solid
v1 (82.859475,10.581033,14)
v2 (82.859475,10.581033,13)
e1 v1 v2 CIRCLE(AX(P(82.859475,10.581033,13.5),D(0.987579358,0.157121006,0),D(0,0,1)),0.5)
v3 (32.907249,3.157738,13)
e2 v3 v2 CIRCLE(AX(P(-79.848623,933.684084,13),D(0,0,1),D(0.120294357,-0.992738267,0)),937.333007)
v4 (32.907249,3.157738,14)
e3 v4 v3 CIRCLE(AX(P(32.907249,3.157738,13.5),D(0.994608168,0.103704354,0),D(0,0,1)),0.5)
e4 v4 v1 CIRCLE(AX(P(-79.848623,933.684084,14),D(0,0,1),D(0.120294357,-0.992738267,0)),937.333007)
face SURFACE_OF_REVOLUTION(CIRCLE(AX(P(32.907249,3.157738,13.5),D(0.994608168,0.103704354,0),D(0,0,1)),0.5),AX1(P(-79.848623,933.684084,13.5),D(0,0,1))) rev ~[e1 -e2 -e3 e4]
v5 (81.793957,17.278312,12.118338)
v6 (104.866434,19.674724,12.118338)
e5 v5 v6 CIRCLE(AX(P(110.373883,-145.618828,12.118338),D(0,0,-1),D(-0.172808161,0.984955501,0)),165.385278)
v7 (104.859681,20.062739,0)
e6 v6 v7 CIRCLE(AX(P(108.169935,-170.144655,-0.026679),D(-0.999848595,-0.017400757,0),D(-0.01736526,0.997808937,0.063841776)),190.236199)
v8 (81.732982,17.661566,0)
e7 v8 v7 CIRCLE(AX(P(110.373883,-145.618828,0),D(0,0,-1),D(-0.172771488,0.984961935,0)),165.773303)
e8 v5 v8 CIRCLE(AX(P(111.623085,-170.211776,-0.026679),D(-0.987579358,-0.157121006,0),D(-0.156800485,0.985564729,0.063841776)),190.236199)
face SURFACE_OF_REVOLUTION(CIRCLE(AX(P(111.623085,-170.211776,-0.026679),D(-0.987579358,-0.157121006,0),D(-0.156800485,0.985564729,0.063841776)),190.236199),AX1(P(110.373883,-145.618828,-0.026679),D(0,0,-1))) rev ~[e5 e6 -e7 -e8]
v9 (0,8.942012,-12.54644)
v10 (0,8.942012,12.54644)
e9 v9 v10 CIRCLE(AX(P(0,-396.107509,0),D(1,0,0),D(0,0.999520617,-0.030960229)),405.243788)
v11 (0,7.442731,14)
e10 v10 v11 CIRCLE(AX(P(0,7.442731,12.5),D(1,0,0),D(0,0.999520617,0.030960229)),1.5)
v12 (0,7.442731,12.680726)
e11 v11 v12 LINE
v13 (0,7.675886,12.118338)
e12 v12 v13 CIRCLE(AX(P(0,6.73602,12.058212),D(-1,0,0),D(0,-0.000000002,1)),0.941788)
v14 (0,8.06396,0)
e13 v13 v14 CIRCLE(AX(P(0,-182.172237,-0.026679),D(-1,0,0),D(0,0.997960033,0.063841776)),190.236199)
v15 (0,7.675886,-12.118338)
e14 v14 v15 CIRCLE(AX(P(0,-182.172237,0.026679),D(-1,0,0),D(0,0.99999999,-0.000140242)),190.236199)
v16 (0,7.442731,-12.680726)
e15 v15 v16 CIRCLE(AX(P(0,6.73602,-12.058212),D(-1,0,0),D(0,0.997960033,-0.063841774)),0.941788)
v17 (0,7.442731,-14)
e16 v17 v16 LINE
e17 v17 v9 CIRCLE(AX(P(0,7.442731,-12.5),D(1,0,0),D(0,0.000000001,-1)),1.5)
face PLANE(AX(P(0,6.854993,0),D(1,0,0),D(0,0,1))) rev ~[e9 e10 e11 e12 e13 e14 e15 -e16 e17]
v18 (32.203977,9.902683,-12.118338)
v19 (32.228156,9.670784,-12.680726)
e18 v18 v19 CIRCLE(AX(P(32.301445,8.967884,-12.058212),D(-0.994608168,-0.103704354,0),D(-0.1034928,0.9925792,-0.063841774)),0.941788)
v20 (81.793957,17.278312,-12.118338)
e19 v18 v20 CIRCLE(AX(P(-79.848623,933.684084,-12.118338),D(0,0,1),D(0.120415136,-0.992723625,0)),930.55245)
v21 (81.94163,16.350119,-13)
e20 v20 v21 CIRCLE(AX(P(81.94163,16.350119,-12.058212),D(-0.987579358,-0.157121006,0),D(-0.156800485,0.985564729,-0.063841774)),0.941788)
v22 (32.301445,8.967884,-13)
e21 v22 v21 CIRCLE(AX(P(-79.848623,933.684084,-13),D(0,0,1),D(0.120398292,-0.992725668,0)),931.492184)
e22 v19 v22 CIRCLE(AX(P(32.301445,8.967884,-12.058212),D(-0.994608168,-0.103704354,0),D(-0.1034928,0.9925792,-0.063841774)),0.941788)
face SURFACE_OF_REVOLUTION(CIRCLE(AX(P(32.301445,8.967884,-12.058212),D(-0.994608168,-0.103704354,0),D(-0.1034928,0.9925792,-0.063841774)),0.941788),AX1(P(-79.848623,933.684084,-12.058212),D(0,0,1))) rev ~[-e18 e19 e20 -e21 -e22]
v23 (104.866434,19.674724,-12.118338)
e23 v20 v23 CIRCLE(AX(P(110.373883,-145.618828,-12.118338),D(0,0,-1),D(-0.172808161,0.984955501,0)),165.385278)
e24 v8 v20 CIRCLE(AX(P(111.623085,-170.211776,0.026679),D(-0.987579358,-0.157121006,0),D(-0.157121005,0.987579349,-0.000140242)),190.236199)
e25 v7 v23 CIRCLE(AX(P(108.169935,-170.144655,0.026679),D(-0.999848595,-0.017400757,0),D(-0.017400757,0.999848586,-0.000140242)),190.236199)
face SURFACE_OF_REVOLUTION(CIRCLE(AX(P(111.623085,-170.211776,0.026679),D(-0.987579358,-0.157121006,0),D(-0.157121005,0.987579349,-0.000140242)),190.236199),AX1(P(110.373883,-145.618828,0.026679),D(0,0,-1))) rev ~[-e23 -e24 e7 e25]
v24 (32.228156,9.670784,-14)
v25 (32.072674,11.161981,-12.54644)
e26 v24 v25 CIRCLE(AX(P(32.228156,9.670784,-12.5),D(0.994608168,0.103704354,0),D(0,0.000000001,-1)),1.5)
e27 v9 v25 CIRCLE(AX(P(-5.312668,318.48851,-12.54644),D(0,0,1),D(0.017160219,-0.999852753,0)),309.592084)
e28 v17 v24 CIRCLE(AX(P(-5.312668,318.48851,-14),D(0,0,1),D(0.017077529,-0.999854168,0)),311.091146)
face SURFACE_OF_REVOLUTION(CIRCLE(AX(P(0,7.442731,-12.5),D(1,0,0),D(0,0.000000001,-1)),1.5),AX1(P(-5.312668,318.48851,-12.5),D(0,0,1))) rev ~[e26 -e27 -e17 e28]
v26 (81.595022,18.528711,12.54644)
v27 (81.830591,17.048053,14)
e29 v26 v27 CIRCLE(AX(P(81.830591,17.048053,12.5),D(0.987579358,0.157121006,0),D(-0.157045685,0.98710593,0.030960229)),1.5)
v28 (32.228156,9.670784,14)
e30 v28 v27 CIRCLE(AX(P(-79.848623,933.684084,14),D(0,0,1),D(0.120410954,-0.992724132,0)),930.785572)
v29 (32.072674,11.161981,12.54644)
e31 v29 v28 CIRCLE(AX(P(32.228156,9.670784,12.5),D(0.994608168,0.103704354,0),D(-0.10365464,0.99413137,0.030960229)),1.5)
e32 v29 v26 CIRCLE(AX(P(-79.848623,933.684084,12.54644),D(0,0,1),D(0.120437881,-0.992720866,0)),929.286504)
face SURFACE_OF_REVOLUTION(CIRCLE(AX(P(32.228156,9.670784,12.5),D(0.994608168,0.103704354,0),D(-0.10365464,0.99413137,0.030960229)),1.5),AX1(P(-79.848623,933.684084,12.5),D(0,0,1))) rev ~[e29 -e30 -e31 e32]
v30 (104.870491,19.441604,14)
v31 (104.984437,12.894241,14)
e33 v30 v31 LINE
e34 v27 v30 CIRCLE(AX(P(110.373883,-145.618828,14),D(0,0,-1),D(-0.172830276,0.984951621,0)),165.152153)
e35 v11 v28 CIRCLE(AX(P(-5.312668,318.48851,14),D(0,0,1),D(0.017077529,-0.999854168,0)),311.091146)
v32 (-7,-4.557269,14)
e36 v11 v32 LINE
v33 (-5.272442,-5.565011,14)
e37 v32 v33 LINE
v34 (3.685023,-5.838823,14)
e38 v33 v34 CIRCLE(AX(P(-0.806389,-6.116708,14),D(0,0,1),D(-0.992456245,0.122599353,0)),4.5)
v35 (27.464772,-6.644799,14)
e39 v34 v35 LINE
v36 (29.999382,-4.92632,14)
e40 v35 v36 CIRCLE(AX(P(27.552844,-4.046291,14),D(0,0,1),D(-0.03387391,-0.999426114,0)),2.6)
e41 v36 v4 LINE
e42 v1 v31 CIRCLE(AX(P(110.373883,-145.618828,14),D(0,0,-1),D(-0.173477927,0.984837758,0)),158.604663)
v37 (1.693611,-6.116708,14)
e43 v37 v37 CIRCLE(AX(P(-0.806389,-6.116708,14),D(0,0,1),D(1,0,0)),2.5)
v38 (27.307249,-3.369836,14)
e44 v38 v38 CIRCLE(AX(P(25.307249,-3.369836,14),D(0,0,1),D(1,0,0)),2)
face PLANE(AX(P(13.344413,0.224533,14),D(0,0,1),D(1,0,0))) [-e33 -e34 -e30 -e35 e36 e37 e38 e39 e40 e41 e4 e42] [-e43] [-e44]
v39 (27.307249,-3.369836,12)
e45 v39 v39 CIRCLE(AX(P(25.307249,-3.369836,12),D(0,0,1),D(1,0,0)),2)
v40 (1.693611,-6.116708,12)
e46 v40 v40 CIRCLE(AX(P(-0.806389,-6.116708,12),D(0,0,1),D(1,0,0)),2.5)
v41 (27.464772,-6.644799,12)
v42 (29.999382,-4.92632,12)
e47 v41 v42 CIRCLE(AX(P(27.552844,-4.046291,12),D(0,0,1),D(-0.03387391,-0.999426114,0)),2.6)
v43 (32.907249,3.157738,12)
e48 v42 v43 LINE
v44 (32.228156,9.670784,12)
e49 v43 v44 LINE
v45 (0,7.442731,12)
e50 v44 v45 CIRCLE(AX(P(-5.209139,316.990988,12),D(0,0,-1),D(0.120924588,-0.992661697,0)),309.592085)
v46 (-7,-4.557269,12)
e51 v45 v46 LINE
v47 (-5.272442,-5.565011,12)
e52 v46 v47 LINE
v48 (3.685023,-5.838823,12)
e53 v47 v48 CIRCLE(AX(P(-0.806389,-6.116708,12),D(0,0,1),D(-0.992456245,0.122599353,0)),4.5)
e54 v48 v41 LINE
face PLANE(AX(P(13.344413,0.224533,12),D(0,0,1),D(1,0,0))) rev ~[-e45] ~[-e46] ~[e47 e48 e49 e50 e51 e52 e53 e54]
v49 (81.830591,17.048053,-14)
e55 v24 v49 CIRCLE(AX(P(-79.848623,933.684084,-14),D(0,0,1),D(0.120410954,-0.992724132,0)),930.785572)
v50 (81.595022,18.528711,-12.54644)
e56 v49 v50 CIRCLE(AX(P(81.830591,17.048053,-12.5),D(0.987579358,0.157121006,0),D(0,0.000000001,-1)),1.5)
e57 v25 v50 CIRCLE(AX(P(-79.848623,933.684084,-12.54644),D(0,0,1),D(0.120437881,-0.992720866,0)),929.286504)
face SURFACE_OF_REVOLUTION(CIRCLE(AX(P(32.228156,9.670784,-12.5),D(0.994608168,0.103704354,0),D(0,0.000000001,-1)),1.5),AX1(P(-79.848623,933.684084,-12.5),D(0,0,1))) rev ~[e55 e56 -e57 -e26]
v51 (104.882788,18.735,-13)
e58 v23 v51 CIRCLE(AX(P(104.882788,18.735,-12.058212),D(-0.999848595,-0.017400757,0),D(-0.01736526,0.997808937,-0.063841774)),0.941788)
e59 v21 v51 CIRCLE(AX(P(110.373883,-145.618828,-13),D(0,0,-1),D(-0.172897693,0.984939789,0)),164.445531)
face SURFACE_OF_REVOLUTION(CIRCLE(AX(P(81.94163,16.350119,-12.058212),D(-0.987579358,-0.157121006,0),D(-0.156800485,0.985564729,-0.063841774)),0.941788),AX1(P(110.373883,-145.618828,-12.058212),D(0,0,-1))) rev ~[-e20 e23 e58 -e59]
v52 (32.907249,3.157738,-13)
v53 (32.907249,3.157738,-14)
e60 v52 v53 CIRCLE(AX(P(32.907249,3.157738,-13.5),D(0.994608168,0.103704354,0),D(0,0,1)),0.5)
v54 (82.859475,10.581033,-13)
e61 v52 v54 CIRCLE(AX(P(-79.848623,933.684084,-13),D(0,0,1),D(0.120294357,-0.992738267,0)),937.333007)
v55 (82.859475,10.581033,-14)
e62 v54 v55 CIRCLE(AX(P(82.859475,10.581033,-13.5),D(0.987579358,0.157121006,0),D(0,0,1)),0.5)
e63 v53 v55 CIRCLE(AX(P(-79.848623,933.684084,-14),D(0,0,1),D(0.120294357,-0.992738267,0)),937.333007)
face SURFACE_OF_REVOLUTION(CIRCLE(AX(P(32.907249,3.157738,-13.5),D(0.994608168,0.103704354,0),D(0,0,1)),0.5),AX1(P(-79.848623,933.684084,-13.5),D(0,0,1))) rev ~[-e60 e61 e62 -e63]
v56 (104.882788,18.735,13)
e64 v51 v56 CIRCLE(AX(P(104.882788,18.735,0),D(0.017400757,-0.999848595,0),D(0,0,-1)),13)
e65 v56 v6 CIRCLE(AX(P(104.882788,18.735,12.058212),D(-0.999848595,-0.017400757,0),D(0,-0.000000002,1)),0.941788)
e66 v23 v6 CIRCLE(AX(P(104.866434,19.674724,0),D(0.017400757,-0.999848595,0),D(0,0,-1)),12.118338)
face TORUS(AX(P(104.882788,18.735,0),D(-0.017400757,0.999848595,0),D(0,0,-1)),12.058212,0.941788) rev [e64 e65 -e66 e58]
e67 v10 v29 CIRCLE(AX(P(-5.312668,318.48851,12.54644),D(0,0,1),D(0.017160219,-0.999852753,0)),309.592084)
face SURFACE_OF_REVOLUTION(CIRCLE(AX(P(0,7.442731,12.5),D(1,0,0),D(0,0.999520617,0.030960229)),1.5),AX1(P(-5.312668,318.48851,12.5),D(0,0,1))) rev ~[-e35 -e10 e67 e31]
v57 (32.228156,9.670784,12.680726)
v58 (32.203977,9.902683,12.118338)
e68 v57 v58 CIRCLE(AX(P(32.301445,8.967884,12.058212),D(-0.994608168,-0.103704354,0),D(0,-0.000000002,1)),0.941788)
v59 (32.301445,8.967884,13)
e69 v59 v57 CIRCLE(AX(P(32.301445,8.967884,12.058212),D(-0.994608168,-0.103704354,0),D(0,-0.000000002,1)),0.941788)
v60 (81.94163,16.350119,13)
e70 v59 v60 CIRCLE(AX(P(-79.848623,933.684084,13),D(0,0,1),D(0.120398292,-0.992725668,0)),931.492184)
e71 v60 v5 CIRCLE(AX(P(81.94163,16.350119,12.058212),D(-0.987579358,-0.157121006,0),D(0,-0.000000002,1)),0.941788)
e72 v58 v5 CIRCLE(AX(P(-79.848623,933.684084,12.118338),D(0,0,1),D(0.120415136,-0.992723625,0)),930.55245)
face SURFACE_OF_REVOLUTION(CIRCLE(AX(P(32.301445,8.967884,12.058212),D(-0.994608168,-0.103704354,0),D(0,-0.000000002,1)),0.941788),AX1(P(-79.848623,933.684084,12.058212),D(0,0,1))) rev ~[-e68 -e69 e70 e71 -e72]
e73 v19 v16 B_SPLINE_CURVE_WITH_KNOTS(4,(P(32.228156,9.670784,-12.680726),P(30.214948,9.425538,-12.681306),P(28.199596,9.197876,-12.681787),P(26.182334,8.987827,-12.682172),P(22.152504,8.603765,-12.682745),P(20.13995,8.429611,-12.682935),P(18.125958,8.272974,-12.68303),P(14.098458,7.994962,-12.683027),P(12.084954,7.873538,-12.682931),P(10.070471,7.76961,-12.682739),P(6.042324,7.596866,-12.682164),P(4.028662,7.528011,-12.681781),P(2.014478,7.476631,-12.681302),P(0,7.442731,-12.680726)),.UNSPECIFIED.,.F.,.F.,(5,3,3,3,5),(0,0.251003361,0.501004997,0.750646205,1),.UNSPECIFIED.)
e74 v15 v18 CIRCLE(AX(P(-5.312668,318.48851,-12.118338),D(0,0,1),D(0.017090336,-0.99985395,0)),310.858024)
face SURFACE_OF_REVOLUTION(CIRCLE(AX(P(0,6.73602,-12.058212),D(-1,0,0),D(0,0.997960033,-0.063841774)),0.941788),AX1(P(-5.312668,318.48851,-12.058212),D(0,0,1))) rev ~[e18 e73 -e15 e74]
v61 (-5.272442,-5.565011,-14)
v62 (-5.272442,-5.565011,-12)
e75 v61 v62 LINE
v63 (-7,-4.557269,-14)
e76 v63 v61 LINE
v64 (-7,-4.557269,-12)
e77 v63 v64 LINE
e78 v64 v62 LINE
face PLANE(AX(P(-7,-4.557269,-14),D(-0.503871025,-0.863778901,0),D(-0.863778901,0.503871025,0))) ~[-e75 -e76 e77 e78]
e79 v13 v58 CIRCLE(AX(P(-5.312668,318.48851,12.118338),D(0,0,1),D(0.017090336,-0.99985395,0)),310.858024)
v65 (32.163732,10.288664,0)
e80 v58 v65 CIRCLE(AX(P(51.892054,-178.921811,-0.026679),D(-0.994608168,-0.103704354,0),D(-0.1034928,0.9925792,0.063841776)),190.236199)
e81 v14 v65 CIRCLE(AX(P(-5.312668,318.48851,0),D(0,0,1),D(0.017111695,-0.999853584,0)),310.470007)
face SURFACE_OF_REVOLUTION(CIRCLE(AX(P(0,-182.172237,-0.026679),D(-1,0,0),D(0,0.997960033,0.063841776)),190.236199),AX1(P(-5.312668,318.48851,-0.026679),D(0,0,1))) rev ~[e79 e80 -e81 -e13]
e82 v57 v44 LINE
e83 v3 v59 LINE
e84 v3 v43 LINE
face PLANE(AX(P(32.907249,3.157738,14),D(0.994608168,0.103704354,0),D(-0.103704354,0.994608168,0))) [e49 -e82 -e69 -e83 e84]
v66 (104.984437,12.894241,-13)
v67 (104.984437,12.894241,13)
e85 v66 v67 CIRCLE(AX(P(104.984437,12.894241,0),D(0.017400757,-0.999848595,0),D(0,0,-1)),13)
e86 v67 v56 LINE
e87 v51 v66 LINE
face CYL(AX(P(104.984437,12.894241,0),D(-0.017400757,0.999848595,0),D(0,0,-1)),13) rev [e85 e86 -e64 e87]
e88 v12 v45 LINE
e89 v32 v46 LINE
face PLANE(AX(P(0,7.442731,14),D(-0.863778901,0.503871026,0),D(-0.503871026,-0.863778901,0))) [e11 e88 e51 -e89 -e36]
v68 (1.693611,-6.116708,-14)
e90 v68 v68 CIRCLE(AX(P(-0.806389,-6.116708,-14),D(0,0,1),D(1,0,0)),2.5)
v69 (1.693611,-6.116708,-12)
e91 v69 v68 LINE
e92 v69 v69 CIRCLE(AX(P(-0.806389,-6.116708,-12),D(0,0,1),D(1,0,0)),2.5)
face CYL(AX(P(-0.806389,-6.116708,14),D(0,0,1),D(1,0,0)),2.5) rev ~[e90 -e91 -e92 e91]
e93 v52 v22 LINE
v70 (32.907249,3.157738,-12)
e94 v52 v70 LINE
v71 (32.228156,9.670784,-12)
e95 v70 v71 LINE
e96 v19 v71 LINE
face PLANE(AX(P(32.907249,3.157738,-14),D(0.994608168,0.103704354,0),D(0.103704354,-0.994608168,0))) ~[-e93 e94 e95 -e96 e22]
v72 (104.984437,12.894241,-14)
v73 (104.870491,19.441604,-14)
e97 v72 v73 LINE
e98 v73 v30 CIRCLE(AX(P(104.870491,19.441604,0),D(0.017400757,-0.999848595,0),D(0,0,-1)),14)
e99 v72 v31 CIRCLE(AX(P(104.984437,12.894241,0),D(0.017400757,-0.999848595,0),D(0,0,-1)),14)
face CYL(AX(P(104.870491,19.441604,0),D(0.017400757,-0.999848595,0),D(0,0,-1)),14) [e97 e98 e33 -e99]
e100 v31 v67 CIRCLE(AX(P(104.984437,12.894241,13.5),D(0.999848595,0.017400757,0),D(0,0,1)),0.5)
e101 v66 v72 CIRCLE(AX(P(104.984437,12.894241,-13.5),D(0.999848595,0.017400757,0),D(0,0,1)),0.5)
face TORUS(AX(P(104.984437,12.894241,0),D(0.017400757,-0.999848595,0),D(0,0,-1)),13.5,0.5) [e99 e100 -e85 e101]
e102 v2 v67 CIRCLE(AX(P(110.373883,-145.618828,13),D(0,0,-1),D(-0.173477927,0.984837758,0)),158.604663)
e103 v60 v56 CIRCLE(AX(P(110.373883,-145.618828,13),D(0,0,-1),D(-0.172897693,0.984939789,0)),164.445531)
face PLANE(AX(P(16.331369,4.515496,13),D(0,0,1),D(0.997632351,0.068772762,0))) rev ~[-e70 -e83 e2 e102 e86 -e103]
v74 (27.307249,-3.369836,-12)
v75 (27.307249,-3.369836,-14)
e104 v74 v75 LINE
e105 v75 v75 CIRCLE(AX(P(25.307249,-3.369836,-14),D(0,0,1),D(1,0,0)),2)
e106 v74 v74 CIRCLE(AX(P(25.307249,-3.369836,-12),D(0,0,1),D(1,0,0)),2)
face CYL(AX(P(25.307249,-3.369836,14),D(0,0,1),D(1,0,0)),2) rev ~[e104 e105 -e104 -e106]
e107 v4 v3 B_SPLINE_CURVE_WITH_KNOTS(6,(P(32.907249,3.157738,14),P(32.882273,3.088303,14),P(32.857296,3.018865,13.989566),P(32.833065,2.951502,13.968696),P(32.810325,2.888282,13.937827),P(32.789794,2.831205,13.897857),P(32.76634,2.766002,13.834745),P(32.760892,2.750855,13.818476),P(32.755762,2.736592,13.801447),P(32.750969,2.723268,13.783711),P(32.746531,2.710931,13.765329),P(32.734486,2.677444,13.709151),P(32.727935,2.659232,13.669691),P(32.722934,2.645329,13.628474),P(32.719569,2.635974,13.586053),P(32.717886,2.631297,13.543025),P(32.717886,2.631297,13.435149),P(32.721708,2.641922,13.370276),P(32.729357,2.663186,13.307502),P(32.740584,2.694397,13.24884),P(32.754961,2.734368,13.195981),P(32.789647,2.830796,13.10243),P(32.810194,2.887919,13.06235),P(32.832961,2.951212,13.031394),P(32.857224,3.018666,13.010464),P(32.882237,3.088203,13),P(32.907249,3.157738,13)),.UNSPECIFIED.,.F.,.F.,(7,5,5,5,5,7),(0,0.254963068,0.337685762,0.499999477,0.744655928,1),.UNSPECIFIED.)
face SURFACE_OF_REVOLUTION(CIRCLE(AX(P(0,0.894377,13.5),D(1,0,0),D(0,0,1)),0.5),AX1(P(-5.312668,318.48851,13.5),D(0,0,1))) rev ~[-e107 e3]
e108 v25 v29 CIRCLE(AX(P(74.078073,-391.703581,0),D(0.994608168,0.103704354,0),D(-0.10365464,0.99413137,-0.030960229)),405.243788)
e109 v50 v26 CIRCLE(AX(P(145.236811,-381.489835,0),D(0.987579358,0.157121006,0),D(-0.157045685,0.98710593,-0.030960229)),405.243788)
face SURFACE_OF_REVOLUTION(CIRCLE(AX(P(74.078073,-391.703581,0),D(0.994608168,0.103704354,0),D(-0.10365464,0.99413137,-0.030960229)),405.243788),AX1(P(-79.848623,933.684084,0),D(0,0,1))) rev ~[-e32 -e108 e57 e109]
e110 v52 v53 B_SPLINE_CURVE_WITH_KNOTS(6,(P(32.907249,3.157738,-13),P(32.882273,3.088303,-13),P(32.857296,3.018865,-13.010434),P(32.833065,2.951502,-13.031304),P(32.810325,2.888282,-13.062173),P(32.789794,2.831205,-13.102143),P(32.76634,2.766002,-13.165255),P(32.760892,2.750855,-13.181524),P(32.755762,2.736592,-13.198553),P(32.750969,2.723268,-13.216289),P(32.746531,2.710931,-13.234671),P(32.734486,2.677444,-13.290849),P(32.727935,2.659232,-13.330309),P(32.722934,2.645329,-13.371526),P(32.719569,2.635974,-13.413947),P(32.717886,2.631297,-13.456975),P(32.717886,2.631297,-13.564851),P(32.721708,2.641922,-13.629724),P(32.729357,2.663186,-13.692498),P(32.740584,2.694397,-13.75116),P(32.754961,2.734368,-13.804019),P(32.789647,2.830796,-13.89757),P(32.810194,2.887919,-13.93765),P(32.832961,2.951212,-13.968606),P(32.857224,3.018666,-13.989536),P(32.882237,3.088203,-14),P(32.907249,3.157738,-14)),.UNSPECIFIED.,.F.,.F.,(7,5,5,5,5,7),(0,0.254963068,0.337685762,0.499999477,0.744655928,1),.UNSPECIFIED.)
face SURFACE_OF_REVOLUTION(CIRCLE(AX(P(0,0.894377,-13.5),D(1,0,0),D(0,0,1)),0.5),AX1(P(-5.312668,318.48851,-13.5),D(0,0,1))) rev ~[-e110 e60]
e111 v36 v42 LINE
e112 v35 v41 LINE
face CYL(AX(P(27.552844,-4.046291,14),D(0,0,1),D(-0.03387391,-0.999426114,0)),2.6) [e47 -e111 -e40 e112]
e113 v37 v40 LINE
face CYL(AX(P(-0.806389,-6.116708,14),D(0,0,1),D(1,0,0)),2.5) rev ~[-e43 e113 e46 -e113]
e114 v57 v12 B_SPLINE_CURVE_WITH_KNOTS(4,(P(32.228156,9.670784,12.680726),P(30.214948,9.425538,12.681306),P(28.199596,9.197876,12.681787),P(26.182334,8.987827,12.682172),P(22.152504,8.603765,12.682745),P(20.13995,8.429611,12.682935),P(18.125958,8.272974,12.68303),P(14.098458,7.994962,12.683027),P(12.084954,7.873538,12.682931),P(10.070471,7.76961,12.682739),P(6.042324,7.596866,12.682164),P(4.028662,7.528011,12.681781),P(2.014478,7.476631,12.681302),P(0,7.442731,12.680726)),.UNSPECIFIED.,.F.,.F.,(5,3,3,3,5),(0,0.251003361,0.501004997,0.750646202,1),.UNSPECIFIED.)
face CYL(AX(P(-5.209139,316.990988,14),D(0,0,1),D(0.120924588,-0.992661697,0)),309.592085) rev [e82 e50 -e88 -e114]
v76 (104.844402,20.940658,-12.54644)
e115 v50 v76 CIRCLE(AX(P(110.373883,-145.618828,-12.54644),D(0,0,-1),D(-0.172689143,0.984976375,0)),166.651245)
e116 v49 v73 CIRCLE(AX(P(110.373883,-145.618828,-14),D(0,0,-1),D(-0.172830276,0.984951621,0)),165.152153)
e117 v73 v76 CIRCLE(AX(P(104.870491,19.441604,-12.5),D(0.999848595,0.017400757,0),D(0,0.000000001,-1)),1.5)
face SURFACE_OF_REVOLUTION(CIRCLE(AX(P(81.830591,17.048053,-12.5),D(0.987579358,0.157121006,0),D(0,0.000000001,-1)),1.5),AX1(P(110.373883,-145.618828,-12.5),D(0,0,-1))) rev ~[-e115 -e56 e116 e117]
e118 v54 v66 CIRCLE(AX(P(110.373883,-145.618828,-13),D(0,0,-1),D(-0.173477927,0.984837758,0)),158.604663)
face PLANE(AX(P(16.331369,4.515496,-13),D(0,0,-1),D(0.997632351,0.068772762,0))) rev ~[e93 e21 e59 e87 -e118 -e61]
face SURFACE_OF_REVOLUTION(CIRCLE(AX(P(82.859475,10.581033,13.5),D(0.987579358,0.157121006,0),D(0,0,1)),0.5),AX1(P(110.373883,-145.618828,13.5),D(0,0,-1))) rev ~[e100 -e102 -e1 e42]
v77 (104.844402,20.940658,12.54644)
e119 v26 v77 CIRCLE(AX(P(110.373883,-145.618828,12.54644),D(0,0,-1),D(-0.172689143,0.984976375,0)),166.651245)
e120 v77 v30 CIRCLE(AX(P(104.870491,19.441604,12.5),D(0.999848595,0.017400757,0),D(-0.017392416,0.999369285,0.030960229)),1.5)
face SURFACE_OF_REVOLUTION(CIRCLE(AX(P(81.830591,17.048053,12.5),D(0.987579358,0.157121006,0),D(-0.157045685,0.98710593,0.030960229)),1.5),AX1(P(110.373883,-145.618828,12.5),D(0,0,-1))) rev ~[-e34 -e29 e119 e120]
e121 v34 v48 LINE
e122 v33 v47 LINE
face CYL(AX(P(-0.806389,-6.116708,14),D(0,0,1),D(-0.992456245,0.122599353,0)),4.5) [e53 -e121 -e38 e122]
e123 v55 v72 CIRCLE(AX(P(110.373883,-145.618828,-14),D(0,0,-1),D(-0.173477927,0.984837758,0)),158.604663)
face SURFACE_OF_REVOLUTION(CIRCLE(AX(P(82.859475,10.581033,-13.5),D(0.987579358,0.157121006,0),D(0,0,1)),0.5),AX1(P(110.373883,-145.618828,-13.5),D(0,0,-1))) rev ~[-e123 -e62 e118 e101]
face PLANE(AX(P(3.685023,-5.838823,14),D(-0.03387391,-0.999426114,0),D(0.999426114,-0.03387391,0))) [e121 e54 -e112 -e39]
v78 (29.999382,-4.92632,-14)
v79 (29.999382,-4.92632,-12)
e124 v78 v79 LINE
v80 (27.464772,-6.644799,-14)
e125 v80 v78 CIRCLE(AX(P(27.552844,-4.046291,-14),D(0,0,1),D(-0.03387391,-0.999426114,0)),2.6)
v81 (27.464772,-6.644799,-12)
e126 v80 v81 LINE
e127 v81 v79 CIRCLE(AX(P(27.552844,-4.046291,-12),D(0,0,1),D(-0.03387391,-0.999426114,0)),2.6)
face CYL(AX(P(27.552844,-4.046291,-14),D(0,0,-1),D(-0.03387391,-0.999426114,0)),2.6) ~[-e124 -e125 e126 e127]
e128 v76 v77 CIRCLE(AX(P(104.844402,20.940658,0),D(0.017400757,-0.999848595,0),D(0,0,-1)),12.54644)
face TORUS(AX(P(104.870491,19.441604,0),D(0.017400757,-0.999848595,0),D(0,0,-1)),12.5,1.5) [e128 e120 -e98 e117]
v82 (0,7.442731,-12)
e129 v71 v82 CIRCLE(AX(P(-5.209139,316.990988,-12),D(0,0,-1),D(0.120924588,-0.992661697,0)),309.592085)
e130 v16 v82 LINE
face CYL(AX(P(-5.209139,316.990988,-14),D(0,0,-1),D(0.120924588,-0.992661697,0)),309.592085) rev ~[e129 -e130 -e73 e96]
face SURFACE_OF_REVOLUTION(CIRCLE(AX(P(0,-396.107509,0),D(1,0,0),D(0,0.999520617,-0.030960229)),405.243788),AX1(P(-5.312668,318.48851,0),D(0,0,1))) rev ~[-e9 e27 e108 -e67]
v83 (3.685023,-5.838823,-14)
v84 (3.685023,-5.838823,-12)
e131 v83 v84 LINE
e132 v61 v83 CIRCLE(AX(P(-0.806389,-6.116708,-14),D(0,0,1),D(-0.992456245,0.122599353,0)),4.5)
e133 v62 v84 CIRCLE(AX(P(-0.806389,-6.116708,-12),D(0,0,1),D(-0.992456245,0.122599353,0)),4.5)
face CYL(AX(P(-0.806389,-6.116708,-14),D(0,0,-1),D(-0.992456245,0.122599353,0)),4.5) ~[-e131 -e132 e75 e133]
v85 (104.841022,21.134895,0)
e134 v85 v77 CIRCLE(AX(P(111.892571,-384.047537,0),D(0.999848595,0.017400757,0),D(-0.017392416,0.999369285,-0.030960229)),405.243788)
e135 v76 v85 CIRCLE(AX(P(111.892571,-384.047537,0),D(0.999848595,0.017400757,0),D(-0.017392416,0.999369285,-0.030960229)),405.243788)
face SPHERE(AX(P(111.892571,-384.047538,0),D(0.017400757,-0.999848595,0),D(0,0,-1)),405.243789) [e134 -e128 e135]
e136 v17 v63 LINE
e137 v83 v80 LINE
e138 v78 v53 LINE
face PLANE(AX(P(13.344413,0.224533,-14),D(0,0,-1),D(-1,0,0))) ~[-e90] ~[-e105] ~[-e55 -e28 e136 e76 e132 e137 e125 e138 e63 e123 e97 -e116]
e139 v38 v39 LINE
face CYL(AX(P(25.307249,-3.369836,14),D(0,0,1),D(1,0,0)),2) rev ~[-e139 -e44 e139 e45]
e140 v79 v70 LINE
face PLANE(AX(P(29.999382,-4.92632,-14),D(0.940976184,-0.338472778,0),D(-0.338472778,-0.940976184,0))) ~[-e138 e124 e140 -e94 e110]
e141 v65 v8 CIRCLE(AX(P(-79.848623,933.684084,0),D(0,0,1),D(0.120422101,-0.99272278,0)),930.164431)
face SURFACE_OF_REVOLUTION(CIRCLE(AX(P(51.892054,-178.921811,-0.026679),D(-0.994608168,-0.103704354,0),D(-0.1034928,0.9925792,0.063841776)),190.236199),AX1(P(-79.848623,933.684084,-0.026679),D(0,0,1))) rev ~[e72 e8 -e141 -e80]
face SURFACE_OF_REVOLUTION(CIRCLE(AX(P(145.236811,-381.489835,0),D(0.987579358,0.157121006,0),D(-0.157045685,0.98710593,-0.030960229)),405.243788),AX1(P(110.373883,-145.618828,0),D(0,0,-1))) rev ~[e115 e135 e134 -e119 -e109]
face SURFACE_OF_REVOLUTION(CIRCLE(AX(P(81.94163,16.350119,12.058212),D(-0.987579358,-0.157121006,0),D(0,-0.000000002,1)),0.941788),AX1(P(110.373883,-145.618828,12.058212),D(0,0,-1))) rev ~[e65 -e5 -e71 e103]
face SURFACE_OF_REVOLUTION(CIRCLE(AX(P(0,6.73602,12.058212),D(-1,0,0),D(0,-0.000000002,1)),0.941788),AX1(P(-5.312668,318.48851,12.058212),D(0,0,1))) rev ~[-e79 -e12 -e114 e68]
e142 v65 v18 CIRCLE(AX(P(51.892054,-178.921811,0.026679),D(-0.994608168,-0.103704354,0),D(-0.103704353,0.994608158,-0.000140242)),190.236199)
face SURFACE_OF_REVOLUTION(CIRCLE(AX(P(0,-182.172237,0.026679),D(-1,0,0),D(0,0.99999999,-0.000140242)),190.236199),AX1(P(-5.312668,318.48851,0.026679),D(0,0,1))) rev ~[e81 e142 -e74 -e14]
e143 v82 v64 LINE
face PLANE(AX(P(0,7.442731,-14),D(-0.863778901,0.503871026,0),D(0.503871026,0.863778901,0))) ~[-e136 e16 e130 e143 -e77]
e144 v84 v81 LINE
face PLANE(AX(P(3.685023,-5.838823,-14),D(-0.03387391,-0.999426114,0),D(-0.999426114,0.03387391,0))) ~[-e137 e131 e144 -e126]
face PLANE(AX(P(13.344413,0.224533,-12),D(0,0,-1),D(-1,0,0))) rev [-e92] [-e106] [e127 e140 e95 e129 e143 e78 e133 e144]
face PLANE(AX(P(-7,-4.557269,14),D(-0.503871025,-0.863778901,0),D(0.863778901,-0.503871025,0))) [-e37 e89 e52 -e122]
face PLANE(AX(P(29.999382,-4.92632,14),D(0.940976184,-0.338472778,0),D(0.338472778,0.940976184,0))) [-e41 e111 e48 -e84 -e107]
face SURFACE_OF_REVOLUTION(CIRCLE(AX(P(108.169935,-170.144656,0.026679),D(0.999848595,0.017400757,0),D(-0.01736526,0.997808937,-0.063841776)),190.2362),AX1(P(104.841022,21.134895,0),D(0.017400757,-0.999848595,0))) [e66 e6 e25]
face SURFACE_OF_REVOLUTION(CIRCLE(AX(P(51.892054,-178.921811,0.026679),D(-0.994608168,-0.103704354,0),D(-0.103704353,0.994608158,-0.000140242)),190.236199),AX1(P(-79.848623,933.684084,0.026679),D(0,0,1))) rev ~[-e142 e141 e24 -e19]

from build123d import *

# Parameters (mm, degrees)
REVOLU_O1_ANGLE          = 180
RESSALTO_EXTRUS_O1_DEPTH = 2
ESBO_O7_R                = 2.5
CORTE_EXTRUS_O1_DEPTH    = 29.0000001
ESBO_O8_R                = 2
CORTE_EXTRUS_O2_DEPTH    = 29.0000001


with BuildPart() as part:
    # Varredura1: sweep along a path in Esboço1
    with BuildLine(Plane.XY) as varredura1_path:
        ThreePointArc((0, 0), (16.529462147, 0.705444386), (33, 2.268183475))
        ThreePointArc((33, 2.268183475), (58.050044629, 5.646181244), (83, 9.697765111))
        ThreePointArc((83, 9.697765111), (93.959586917, 11.235067223), (105, 12))
    # Esboço2 → Varredura1 (sweep)
    with BuildSketch(Plane(origin=(0, 0, 0), x_dir=(0, 0, -1), z_dir=(1, 0, 0))):
        with BuildLine():
            Line((-14, 7.442730927), (-14, 0.894376808))
            ThreePointArc((-14, 0.894376808), (-13.5, 0.394376808), (-13, 0.894376808))
            Line((-13, 0.894376808), (-13, 6.736019744))
            ThreePointArc((-13, 6.736019744), (-12.74508542, 7.380356175), (-12.118337614, 7.675886319))
            ThreePointArc((-12.118337614, 7.675886319), (-6.062261288, 7.966491733), (0, 8.063959997))
            ThreePointArc((0, 8.063959997), (6.062261288, 7.966491733), (12.118337614, 7.675886319))
            ThreePointArc((12.118337614, 7.675886319), (12.74508542, 7.380356175), (13, 6.736019744))
            Line((13, 6.736019744), (13, 0.894376808))
            ThreePointArc((13, 0.894376808), (13.5, 0.394376808), (14, 0.894376808))
            Line((14, 0.894376808), (14, 7.442730927))
            ThreePointArc((14, 7.442730927), (13.576954157, 8.486842866), (12.546440343, 8.942011852))
            ThreePointArc((12.546440343, 8.942011852), (0, 9.136278747), (-12.546440343, 8.942011852))
            ThreePointArc((-12.546440343, 8.942011852), (-13.576954157, 8.486842866), (-14, 7.442730927))
        make_face()
    sweep(path=varredura1_path.line)

    # Esboço3 → Revolução1 (revolve)
    with BuildSketch(Plane(origin=(105.176984905, 1.830436311, 0), x_dir=(0, 0, -1), z_dir=(0.999848595, 0.017400757, 0))):
        with BuildLine():
            Line((14, 17.613834568), (14, 11.065480449))
            ThreePointArc((14, 11.065480449), (13.5, 10.565480449), (13, 11.065480449))
            Line((13, 11.065480449), (13, 16.907123386))
            ThreePointArc((13, 16.907123386), (12.74508542, 17.551459816), (12.118337614, 17.84698996))
            ThreePointArc((12.118337614, 17.84698996), (6.062261288, 18.137595374), (0, 18.235063639))
            Line((0, 18.235063639), (0, 19.307382388))
            ThreePointArc((0, 19.307382388), (6.273972125, 19.258812754), (12.546440343, 19.113115494))
            ThreePointArc((12.546440343, 19.113115494), (13.576954157, 18.657946508), (14, 17.613834568))
        make_face()
    revolve(axis=Axis((104.841021832, 21.134895472, 0), (0.017400757, -0.999848595, 0)), revolution_arc=REVOLU_O1_ANGLE)

    # Esboço6 → Ressalto-extrusão1 (add)
    with BuildSketch(Plane.XY.offset(14)):
        with BuildLine():
            Line((0, 7.442730927), (-7, -4.557269073))
            Line((-7, -4.557269073), (-5.272442198, -5.565011124))
            ThreePointArc((-5.272442198, -5.565011124), (-0.943881137, -10.614607271), (3.685022716, -5.838823437))
            Line((3.685022716, -5.838823437), (27.464771889, -6.644799062))
            ThreePointArc((27.464771889, -6.644799062), (29.011913143, -6.198294277), (29.999382133, -4.926320387))
            Line((29.999382133, -4.926320387), (32.907249231, 3.157737954))
            Line((32.907249231, 3.157737954), (32.2281564, 9.670784444))
            ThreePointArc((32.2281564, 9.670784444), (16.14315941, 8.136106307), (0, 7.442730927))
        make_face()
    ressalto_extrus_o1 = extrude(amount=-RESSALTO_EXTRUS_O1_DEPTH)

    # Espelhar1: Ressalto-extrusão1 across plane
    add(ressalto_extrus_o1.mirror(Plane.XY))

    # Esboço7 → Corte-extrusão1 (cut, through all)
    with BuildSketch(Plane.XY.offset(14)):
        with Locations((-0.806389095, -6.116708213)):
            Circle(ESBO_O7_R)
    extrude(amount=-CORTE_EXTRUS_O1_DEPTH, mode=Mode.SUBTRACT)

    # Esboço8 → Corte-extrusão2 (cut, through all)
    with BuildSketch(Plane.XY.offset(14)):
        with Locations((25.307249231, -3.369835879)):
            Circle(ESBO_O8_R)
    extrude(amount=-CORTE_EXTRUS_O2_DEPTH, mode=Mode.SUBTRACT)


solid = part.part
